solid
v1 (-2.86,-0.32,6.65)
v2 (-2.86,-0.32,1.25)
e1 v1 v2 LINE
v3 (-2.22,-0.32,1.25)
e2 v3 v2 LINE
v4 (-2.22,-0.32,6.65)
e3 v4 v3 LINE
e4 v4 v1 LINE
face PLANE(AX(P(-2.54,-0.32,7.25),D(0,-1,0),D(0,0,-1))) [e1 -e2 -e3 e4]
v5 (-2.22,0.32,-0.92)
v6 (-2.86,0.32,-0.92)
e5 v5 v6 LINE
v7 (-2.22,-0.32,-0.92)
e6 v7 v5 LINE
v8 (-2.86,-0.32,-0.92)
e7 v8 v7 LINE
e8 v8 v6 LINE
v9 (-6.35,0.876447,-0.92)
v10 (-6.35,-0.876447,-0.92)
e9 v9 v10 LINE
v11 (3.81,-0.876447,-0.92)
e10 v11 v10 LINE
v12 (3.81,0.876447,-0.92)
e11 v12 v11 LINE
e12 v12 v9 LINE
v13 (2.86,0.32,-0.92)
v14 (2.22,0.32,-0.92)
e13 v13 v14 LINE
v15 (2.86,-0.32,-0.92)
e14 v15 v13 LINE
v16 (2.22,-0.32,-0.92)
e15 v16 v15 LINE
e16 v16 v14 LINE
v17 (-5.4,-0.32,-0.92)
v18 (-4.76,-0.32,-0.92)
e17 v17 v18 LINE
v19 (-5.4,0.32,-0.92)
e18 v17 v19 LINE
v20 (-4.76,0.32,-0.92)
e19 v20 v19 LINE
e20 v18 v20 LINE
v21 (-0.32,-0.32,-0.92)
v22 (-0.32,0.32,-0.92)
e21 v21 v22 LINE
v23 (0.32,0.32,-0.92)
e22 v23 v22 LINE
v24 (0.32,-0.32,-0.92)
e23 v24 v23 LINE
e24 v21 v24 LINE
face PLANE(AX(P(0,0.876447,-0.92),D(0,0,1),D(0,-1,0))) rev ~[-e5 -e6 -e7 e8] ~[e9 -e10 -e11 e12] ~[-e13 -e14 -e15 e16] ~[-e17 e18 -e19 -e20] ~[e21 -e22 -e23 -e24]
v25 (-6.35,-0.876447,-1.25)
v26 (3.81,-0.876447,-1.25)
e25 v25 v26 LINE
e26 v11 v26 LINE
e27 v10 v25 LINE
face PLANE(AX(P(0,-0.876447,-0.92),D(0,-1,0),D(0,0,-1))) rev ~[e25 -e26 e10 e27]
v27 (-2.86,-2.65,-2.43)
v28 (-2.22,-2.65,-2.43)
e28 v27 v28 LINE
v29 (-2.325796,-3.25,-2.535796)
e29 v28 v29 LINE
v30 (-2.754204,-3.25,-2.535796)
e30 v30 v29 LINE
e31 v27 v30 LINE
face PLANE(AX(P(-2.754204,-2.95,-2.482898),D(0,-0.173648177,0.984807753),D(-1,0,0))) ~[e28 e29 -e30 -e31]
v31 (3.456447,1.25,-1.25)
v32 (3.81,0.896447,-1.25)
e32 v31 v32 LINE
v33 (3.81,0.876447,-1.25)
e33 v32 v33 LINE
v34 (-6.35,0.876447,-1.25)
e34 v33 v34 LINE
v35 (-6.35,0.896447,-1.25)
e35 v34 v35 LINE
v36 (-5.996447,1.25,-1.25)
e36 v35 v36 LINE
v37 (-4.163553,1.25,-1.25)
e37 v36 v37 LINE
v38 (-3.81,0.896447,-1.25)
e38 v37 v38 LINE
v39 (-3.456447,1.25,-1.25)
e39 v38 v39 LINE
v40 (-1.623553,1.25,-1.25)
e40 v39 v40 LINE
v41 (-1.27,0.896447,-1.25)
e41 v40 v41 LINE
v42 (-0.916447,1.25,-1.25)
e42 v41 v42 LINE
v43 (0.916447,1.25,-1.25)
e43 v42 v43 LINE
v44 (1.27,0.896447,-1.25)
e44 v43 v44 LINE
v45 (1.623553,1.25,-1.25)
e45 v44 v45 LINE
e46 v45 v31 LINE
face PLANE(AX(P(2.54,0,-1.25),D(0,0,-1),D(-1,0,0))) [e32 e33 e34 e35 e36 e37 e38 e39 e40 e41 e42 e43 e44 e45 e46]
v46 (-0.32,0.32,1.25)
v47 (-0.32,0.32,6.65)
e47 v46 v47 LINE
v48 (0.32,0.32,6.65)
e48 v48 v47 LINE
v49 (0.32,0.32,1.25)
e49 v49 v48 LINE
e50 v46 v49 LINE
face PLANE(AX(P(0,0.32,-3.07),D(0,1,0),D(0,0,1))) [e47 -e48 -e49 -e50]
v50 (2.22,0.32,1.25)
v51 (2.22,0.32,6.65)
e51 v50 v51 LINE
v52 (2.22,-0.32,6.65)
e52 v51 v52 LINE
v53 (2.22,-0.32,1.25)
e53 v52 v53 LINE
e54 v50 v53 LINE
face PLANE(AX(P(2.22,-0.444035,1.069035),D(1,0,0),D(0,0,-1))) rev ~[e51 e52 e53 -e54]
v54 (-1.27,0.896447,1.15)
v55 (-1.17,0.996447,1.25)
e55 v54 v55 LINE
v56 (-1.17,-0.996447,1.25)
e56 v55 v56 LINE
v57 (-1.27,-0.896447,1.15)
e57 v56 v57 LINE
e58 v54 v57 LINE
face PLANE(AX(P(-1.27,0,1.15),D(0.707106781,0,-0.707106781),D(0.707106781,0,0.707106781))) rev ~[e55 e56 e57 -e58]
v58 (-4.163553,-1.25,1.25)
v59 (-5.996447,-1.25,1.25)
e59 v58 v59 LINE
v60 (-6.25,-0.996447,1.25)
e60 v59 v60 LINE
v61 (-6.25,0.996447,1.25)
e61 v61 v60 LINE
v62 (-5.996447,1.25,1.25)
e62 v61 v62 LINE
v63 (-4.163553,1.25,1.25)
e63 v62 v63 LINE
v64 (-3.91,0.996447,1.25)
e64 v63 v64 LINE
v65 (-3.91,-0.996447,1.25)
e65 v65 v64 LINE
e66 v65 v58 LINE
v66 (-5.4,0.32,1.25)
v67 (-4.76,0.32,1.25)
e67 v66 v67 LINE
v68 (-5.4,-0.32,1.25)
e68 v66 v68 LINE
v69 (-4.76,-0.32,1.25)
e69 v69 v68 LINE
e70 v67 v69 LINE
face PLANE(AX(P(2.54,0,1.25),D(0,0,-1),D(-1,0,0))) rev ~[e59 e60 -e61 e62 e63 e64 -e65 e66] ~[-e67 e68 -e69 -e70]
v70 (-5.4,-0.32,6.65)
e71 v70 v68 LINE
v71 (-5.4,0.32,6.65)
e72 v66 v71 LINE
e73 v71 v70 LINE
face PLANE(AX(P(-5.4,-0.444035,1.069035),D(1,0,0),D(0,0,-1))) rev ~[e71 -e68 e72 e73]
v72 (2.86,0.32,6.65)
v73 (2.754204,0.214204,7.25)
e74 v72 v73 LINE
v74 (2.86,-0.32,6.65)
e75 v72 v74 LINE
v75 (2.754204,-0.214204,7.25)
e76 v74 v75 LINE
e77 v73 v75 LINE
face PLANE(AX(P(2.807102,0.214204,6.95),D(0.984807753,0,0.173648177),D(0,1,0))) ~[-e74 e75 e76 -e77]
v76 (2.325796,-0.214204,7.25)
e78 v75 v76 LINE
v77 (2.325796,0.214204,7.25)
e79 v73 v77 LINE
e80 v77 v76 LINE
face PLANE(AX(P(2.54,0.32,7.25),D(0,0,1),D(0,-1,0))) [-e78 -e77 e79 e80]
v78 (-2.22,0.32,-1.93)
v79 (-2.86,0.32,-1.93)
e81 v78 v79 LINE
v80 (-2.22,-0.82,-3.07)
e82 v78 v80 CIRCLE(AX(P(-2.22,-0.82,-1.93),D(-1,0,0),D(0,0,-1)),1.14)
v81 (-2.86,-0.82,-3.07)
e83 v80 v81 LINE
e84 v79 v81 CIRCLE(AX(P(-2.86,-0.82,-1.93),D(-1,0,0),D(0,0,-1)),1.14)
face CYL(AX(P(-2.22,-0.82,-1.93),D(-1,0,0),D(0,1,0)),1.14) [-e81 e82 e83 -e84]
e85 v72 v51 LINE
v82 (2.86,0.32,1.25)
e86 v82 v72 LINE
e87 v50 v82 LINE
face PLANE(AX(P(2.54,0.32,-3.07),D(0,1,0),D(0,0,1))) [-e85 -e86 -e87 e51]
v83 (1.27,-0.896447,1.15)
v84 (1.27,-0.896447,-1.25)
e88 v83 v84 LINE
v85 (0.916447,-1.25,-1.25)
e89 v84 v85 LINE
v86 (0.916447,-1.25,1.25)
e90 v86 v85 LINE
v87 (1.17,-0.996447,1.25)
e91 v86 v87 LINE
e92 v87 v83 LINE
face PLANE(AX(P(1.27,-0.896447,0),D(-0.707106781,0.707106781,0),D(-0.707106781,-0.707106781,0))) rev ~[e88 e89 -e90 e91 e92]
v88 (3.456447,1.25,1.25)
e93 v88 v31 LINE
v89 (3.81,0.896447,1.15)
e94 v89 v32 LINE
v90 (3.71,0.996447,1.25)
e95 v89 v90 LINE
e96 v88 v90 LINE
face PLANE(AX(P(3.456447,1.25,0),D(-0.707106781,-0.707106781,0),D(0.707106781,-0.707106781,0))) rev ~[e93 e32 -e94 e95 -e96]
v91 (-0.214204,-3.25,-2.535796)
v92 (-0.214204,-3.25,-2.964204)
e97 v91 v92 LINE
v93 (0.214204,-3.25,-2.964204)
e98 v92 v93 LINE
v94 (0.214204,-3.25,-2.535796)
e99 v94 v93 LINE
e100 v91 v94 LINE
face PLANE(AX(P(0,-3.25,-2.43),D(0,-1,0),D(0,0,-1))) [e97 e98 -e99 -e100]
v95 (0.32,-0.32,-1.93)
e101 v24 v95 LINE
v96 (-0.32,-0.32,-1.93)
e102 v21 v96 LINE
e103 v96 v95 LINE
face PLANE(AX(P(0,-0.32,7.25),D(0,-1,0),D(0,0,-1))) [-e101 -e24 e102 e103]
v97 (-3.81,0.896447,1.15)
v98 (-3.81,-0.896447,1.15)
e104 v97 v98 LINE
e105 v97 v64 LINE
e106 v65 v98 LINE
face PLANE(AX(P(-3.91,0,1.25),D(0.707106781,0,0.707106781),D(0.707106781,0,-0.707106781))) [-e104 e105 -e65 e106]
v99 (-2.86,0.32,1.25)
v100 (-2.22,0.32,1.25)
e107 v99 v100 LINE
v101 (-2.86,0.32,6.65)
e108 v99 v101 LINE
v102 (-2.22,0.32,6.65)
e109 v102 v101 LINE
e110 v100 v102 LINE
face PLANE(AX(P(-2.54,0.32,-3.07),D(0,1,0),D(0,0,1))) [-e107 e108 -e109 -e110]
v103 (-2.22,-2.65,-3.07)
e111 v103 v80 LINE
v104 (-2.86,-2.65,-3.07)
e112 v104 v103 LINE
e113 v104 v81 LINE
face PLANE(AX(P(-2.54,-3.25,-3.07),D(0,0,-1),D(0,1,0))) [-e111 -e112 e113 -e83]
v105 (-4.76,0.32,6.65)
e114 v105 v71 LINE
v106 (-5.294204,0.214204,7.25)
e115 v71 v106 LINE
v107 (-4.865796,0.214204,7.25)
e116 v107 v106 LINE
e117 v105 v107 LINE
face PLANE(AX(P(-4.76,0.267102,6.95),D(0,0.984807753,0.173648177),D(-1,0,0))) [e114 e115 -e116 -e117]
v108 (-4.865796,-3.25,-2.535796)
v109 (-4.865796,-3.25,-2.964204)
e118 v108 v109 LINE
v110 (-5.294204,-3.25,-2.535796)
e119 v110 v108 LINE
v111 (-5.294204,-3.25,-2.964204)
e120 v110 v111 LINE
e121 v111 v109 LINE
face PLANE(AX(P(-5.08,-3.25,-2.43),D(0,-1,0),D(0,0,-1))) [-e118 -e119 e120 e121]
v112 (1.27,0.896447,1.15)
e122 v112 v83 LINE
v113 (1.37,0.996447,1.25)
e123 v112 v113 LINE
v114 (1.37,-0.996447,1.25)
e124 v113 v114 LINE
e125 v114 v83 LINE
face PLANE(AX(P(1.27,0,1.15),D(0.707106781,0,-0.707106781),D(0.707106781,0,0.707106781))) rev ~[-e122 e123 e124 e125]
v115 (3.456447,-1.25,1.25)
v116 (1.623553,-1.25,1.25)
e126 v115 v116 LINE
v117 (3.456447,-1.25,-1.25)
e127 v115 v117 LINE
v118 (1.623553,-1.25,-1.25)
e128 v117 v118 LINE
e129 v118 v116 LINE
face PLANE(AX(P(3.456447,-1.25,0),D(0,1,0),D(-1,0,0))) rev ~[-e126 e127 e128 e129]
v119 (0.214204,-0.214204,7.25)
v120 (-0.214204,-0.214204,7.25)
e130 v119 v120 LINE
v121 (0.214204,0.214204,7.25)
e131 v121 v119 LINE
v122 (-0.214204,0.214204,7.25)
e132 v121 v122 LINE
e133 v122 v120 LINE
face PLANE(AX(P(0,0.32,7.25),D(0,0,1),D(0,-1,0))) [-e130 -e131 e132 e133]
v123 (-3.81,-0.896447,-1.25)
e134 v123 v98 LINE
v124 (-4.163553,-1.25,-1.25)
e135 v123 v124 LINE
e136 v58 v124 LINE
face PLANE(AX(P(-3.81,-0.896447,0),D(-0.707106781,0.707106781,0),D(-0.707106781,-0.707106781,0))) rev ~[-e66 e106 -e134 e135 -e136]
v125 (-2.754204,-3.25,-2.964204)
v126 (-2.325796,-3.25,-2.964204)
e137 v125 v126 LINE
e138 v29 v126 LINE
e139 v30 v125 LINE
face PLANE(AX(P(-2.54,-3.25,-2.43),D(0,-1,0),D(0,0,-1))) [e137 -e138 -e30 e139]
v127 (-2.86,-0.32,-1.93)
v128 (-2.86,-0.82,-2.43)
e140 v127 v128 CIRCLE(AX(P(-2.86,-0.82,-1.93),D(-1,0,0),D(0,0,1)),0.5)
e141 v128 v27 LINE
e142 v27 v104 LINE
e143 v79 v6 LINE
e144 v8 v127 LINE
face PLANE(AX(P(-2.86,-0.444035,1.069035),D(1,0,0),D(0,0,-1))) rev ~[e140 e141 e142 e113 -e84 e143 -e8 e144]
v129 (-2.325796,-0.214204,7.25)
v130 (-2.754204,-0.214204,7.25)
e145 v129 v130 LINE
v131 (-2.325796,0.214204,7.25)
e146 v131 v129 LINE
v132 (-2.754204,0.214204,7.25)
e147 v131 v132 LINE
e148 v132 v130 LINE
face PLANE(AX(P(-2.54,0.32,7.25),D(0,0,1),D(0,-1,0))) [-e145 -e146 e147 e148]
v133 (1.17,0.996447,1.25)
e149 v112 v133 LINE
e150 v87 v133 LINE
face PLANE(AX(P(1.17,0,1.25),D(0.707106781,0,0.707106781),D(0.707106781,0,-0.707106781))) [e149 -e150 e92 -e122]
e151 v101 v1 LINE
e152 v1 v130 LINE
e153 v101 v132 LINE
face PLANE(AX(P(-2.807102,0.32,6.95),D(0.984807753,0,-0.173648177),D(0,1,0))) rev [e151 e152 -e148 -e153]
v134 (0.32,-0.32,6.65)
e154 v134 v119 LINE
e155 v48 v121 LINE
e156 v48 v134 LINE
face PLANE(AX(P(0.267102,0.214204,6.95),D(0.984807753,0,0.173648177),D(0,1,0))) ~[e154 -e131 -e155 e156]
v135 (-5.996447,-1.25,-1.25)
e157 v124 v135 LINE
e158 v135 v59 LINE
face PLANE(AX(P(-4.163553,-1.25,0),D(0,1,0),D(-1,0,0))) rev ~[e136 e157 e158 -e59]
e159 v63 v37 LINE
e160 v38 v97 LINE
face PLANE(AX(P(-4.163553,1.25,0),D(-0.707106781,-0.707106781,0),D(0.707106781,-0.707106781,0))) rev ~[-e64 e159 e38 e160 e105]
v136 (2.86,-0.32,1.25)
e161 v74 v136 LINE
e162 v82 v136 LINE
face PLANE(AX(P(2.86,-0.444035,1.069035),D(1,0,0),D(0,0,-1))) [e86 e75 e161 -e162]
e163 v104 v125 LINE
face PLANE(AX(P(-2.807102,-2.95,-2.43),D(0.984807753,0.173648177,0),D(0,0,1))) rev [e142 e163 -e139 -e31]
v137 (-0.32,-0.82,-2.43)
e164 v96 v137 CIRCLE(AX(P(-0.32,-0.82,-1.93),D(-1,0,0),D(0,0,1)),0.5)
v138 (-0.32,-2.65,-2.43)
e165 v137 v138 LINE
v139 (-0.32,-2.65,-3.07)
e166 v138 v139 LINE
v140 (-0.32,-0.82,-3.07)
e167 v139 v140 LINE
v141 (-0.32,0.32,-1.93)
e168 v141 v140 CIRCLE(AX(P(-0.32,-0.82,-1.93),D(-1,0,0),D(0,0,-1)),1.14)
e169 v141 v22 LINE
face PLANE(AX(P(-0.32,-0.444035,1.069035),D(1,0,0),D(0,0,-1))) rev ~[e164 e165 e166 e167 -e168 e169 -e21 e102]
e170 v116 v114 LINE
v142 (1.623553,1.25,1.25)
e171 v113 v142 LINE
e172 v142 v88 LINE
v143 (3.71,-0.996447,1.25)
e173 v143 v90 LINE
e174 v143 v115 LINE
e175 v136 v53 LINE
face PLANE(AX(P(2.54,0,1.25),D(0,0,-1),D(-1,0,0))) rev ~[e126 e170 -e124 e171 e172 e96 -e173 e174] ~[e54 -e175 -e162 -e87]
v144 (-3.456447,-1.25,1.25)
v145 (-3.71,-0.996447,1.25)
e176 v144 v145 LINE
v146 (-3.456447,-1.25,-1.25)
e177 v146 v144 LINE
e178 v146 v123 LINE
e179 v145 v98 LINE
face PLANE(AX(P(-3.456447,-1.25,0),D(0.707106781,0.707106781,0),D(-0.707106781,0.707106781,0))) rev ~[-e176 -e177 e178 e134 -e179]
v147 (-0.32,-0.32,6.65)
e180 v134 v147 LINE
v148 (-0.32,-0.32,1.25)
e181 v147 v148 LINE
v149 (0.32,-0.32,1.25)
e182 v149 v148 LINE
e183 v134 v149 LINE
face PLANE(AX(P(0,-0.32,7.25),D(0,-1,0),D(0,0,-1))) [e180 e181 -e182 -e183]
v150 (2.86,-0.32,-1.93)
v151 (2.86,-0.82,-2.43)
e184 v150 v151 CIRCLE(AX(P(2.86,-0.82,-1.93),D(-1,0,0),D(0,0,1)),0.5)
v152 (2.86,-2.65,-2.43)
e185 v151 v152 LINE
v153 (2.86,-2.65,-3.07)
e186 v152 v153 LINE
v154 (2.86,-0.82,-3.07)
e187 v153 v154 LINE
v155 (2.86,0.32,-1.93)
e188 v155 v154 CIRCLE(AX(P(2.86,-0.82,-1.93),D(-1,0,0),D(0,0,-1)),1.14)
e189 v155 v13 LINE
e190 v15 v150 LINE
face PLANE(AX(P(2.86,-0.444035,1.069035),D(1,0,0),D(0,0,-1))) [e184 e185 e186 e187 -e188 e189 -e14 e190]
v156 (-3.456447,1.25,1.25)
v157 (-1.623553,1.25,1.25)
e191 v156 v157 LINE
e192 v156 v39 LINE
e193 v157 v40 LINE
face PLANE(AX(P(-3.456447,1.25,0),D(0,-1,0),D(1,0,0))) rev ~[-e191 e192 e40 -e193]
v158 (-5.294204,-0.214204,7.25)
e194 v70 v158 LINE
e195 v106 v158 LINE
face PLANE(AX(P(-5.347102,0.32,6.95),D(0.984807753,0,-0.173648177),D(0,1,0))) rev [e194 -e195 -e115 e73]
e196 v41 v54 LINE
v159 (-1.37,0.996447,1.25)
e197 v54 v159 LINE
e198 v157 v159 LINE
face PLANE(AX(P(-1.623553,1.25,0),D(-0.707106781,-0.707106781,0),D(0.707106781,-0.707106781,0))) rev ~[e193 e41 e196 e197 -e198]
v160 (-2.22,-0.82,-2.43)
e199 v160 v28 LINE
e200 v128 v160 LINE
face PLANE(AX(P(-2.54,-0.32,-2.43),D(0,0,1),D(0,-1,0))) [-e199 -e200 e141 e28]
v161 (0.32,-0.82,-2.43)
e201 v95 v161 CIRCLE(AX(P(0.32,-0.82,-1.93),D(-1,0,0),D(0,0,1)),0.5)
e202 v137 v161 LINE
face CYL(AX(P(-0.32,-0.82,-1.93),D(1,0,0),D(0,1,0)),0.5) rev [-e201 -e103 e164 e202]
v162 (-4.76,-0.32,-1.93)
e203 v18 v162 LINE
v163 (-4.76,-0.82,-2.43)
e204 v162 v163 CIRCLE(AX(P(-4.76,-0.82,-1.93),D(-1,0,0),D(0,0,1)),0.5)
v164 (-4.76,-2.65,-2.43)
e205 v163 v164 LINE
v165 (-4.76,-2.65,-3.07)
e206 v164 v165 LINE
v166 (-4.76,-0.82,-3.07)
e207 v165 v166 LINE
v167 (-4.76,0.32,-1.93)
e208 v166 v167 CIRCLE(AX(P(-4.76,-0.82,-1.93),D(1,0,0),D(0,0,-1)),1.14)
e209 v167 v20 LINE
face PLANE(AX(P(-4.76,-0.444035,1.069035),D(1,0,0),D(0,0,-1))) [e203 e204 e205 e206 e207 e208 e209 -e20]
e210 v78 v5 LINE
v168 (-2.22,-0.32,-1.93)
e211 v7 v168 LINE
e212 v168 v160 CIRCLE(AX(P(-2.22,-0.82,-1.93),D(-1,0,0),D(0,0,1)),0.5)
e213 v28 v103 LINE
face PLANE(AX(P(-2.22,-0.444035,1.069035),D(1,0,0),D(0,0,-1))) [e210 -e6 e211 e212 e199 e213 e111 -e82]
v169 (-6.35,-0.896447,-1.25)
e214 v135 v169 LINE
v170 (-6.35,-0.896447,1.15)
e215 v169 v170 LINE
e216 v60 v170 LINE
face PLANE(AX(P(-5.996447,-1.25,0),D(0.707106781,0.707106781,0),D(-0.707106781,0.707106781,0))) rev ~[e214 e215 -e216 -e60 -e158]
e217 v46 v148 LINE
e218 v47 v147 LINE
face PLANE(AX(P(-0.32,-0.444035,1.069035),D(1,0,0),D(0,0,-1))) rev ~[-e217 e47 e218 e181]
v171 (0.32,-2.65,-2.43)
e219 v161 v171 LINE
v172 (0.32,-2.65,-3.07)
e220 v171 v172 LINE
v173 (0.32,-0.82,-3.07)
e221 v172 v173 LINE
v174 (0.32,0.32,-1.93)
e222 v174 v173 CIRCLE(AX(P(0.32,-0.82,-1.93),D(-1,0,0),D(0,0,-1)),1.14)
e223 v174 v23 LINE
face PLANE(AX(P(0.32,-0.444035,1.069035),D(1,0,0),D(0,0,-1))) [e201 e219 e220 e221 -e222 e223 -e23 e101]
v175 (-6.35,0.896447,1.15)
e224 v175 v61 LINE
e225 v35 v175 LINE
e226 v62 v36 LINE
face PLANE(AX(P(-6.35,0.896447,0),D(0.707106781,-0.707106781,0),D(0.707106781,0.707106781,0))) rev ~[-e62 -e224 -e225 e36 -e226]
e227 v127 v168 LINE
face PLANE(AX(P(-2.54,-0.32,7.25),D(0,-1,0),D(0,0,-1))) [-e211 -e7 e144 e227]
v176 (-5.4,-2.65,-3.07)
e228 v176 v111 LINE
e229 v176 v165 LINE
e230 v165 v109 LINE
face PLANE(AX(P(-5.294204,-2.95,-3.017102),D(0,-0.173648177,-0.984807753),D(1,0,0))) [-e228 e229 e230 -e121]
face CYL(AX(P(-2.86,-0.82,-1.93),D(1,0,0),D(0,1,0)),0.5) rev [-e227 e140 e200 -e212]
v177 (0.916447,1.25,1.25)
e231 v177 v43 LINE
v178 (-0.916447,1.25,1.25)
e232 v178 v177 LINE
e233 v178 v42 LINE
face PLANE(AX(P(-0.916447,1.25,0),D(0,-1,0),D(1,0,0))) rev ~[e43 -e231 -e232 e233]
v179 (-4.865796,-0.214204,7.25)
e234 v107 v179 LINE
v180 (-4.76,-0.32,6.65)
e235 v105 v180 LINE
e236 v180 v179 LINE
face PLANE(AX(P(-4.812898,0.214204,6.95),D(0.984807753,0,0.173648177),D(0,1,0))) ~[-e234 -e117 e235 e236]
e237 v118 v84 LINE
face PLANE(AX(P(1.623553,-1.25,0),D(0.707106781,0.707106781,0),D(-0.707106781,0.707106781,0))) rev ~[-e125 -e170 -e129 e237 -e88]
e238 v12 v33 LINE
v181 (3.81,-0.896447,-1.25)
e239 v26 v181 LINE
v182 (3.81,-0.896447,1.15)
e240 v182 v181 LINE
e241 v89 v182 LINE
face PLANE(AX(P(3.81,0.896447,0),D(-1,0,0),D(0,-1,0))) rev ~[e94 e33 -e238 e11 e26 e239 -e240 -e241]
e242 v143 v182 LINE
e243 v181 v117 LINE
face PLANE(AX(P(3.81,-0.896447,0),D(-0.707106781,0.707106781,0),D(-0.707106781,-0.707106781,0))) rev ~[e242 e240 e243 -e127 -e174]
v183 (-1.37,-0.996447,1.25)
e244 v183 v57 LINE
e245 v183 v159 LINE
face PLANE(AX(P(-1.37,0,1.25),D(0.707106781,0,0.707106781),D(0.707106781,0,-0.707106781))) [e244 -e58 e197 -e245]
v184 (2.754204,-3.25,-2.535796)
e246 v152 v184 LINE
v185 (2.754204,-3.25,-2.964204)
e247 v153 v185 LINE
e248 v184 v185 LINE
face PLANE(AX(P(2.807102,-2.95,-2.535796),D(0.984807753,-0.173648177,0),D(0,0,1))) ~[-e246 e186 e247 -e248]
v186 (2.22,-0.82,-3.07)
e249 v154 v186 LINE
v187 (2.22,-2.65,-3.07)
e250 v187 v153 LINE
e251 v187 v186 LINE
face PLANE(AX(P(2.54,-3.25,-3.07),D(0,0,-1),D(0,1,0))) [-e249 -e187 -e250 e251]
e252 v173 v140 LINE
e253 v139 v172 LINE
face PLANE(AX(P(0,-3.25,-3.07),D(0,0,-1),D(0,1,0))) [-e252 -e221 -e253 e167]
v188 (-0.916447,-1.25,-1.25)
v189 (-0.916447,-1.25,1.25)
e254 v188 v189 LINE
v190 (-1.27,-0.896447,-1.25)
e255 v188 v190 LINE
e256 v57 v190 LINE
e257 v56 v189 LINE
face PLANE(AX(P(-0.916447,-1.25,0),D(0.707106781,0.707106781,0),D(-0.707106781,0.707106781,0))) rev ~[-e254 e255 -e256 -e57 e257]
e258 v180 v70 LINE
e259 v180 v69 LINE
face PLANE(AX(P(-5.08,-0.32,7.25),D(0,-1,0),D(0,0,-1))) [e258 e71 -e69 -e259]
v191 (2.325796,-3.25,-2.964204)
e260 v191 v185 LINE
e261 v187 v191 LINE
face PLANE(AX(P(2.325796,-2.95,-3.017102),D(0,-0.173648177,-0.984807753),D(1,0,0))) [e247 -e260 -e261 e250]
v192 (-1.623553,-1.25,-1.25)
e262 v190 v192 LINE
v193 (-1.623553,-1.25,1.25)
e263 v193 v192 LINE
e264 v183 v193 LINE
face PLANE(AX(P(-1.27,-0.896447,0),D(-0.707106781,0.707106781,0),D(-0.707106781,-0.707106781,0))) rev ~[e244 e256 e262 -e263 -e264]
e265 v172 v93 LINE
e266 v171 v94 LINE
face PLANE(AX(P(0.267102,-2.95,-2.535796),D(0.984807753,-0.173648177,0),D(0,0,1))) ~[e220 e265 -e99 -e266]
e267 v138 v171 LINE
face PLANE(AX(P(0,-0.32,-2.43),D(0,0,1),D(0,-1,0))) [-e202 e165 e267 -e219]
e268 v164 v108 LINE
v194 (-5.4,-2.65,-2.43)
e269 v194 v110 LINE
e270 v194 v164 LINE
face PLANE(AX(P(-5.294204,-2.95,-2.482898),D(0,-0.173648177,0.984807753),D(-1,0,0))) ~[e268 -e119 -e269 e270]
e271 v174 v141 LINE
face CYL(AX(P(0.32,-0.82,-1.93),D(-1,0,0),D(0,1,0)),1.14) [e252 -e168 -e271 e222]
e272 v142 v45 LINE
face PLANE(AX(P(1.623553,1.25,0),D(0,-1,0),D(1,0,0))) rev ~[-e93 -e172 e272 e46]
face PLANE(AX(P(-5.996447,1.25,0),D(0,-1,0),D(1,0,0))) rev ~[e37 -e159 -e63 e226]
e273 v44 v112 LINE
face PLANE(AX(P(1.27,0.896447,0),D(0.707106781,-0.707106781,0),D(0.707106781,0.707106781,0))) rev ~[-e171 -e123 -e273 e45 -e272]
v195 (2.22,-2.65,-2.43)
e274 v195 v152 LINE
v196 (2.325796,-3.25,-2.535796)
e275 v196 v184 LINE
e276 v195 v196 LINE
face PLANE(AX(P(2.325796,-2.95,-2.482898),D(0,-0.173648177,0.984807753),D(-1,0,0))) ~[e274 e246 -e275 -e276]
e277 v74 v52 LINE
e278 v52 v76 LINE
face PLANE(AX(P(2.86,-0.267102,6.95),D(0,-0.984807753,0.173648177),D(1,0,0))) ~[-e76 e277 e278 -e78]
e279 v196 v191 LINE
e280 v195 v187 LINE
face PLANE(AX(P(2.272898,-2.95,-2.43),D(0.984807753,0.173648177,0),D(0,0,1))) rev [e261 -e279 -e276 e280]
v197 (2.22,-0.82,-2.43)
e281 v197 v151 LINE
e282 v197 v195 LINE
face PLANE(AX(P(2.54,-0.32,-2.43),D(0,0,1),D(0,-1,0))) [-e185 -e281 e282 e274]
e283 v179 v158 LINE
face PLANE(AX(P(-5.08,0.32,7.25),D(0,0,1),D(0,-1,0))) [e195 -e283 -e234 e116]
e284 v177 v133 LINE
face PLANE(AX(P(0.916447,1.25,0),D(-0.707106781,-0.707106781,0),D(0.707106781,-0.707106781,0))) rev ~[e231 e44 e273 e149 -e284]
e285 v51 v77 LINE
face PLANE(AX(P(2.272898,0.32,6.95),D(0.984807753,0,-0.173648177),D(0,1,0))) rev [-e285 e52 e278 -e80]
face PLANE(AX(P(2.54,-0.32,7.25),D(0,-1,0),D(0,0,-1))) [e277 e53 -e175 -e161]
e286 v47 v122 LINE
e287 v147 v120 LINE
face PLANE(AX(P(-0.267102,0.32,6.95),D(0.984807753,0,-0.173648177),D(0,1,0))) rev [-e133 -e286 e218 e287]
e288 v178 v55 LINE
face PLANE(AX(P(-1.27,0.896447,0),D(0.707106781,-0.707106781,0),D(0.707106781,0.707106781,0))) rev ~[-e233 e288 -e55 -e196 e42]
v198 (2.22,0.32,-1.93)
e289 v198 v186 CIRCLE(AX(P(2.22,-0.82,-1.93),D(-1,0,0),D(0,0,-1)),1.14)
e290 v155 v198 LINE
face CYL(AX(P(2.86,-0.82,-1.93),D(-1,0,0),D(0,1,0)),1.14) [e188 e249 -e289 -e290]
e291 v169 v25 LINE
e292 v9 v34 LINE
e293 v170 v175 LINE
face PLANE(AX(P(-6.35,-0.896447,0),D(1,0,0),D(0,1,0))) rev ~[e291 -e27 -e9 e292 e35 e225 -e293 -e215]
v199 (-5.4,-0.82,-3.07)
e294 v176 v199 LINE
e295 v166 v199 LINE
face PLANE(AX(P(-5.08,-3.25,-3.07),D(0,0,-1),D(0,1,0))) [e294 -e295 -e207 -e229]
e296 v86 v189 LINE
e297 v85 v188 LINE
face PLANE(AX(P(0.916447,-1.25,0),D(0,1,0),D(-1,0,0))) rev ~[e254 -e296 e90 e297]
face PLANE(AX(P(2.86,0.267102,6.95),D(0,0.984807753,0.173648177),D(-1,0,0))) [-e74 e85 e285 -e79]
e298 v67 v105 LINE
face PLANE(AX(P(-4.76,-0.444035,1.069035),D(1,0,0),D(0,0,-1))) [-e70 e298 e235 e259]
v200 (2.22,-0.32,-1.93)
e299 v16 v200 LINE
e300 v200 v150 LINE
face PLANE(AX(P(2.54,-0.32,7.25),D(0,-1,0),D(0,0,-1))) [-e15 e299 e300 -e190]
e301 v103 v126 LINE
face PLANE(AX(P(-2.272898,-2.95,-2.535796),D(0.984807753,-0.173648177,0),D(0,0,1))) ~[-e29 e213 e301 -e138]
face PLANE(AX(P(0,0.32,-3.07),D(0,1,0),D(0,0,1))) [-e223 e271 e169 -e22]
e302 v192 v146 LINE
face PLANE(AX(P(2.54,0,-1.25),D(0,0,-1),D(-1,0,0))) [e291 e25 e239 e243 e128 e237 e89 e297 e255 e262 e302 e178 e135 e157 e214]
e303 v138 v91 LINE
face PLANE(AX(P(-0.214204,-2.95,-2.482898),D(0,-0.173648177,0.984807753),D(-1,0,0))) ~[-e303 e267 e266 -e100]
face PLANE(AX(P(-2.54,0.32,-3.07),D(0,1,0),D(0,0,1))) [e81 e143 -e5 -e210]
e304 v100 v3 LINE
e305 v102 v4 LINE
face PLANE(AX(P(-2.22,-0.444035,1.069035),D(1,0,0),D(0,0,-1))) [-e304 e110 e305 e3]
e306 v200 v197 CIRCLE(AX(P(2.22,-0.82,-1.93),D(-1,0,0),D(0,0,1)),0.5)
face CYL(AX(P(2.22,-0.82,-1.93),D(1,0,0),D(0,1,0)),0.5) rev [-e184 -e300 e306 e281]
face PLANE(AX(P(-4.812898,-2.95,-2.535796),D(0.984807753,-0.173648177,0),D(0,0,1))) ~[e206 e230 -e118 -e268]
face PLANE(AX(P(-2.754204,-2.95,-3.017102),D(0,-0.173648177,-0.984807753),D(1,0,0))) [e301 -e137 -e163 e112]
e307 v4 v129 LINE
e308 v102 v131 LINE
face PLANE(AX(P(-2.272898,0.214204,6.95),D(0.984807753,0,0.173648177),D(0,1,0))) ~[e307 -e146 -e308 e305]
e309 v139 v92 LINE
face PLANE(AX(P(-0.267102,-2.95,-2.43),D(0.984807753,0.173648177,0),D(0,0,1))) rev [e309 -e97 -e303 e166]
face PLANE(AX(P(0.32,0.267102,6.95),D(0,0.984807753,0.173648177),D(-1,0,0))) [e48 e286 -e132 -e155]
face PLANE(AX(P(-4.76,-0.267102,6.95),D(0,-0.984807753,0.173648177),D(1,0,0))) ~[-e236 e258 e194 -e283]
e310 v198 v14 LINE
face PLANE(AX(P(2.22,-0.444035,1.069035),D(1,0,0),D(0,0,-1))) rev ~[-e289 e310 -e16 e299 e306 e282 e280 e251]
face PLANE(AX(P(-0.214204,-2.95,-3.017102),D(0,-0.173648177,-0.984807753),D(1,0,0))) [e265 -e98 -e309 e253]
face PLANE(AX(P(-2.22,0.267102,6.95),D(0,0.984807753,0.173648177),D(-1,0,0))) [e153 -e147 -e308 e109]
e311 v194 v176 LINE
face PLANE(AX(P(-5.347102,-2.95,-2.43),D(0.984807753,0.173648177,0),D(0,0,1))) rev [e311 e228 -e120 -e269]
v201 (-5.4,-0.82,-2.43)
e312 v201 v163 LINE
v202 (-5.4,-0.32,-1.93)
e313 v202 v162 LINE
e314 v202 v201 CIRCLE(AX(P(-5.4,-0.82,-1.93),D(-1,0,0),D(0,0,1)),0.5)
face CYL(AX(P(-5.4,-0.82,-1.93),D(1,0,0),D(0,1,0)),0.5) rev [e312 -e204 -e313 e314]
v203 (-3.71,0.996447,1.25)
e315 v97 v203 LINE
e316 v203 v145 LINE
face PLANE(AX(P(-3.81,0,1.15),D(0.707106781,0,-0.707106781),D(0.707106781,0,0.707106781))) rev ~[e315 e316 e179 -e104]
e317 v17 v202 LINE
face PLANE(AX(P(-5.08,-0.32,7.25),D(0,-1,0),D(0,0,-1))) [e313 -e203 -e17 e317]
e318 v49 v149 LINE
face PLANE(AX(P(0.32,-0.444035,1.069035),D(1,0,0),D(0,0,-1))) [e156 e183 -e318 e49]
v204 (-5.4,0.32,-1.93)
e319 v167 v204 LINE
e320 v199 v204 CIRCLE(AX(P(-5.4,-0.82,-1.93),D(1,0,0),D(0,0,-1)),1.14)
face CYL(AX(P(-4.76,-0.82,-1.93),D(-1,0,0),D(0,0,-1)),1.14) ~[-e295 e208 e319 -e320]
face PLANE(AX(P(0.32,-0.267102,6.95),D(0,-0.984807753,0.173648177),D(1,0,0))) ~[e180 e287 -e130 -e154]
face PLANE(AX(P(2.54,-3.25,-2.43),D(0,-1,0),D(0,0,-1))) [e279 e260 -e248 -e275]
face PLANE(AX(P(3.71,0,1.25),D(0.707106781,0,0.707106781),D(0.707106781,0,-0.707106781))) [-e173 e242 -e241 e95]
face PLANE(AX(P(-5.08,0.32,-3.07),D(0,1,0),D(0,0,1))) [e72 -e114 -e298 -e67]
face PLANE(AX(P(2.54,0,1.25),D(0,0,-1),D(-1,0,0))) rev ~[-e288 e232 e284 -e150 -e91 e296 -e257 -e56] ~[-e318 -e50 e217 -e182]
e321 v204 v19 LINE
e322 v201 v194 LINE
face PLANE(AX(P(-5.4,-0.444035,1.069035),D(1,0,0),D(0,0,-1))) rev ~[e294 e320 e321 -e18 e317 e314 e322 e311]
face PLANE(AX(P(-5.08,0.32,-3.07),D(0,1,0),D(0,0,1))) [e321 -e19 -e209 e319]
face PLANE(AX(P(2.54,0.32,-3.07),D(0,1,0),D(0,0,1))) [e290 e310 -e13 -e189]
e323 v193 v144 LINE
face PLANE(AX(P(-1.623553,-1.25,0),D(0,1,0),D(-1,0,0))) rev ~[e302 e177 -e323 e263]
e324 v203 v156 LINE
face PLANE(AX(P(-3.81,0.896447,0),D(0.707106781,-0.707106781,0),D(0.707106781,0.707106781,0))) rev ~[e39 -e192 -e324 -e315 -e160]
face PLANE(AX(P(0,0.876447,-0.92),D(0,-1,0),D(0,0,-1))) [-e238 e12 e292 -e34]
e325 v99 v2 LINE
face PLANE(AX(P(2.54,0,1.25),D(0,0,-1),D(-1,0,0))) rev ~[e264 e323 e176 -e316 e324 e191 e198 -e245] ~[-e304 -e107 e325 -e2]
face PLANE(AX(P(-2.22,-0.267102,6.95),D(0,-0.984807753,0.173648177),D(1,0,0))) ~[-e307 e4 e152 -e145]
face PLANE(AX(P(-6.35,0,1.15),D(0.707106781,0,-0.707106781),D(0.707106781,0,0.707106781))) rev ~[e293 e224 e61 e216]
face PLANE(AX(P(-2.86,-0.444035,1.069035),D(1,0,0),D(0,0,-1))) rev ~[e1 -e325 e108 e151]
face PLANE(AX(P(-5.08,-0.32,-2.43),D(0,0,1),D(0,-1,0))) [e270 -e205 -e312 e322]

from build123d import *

# Parameters (mm, degrees)
EXTRUDE1_DEPTH          = 1.25
CUT_EXTRUDE3_DEPTH      = 2.25
LPATTERN4_COUNT         = 3
LPATTERN4_PITCH         = 2.54
LPATTERN4_COUNT_DIR2    = 2
LPATTERN4_PITCH_DIR2    = 2.54
SKETCH2_W               = 1.752893218
SKETCH2_H               = 0.33
CUT_EXTRUDE1_DEPTH      = 4.81
CUT_EXTRUDE1_DEPTH_BACK = 7.35
EXTRUDE_THIN1_DEPTH     = 0.32
LPATTERN5_COUNT         = 2
LPATTERN5_PITCH         = 2.54
LPATTERN5_COL_COUNT     = 3
LPATTERN5_COL_PITCH     = 2.54
CHAMFER2_SIZE           = 0.6
CHAMFER2_SIZE2          = 0.105796188
CHAMFER2_PART_2_SIZE    = 0.6
CHAMFER2_PART_2_SIZE2   = 0.105796188
CHAMFER2_PART_3_SIZE    = 0.6
CHAMFER2_PART_3_SIZE2   = 0.105796188
CHAMFER2_PART_4_SIZE    = 0.6
CHAMFER2_PART_4_SIZE2   = 0.105796188
CHAMFER2_PART_5_SIZE    = 0.6
CHAMFER2_PART_5_SIZE2   = 0.105796188
CHAMFER2_PART_6_SIZE    = 0.6
CHAMFER2_PART_6_SIZE2   = 0.105796188
CHAMFER2_PART_7_SIZE    = 0.6
CHAMFER2_PART_7_SIZE2   = 0.105796188
CHAMFER2_PART_8_SIZE    = 0.6
CHAMFER2_PART_8_SIZE2   = 0.105796188
CHAMFER2_PART_9_SIZE    = 0.6
CHAMFER2_PART_9_SIZE2   = 0.105796188
CHAMFER2_PART_10_SIZE   = 0.6
CHAMFER2_PART_10_SIZE2  = 0.105796188
CHAMFER2_PART_11_SIZE   = 0.6
CHAMFER2_PART_11_SIZE2  = 0.105796188
CHAMFER2_PART_12_SIZE   = 0.6
CHAMFER2_PART_12_SIZE2  = 0.105796188
CHAMFER2_PART_13_SIZE   = 0.6
CHAMFER2_PART_13_SIZE2  = 0.105796188
CHAMFER2_PART_14_SIZE   = 0.6
CHAMFER2_PART_14_SIZE2  = 0.105796188
CHAMFER2_PART_15_SIZE   = 0.6
CHAMFER2_PART_15_SIZE2  = 0.105796188
CHAMFER2_PART_16_SIZE   = 0.6
CHAMFER2_PART_16_SIZE2  = 0.105796188
CHAMFER2_PART_17_SIZE   = 0.6
CHAMFER2_PART_17_SIZE2  = 0.105796188
CHAMFER2_PART_18_SIZE   = 0.6
CHAMFER2_PART_18_SIZE2  = 0.105796188
CHAMFER2_PART_19_SIZE   = 0.6
CHAMFER2_PART_19_SIZE2  = 0.105796188
CHAMFER2_PART_20_SIZE   = 0.6
CHAMFER2_PART_20_SIZE2  = 0.105796188
CHAMFER2_PART_21_SIZE   = 0.6
CHAMFER2_PART_21_SIZE2  = 0.105796188
CHAMFER2_PART_22_SIZE   = 0.6
CHAMFER2_PART_22_SIZE2  = 0.105796188
CHAMFER2_PART_23_SIZE   = 0.6
CHAMFER2_PART_23_SIZE2  = 0.105796188
CHAMFER2_PART_24_SIZE   = 0.6
CHAMFER2_PART_24_SIZE2  = 0.105796188
CHAMFER2_PART_25_SIZE   = 0.6
CHAMFER2_PART_25_SIZE2  = 0.105796188
CHAMFER2_PART_26_SIZE   = 0.6
CHAMFER2_PART_26_SIZE2  = 0.105796188
CHAMFER2_PART_27_SIZE   = 0.6
CHAMFER2_PART_27_SIZE2  = 0.105796188
CHAMFER2_PART_28_SIZE   = 0.6
CHAMFER2_PART_28_SIZE2  = 0.105796188
CHAMFER2_PART_29_SIZE   = 0.6
CHAMFER2_PART_29_SIZE2  = 0.105796188
CHAMFER2_PART_30_SIZE   = 0.6
CHAMFER2_PART_30_SIZE2  = 0.105796188
CHAMFER2_PART_31_SIZE   = 0.6
CHAMFER2_PART_31_SIZE2  = 0.105796188
CHAMFER2_PART_32_SIZE   = 0.6
CHAMFER2_PART_32_SIZE2  = 0.105796188
FILLET1_R               = 0.5
FILLET2_R               = 1.14


with BuildPart() as part:
    # Sketch1 → Extrude1 (new body, symmetric)
    with BuildSketch(Plane.XY):
        Polygon((-1.27, 0.896446609), (-0.916446609, 1.25), (0.916446609, 1.25), (1.27, 0.896446609), (1.27, -0.896446609), (0.916446609, -1.25), (-0.916446609, -1.25), (-1.27, -0.896446609), align=None)
    extrude1 = extrude(amount=EXTRUDE1_DEPTH, both=True)

    # Sketch4 → Cut-Extrude3 (cut, symmetric)
    with BuildSketch(Plane(origin=(0, 0, 0), x_dir=(1, 0, 0), z_dir=(0, 1, 0))):
        Polygon((-1.27, -1.15), (-1.17, -1.25), (-1.27, -1.25), align=None)
        Polygon((1.17, -1.25), (1.27, -1.15), (1.27, -1.25), align=None)
    cut_extrude3 = extrude(amount=CUT_EXTRUDE3_DEPTH, both=True, mode=Mode.SUBTRACT)

    # LPattern4: Extrude1, Cut-Extrude3 3 × 2
    with Locations(*[Vector(-1, 0, 0) * (i * LPATTERN4_PITCH) + Vector(1, 0, 0) * (j * LPATTERN4_PITCH_DIR2) for i in range(LPATTERN4_COUNT) for j in range(LPATTERN4_COUNT_DIR2) if (i, j) != (0, 0)]):
        add(extrude1)
        add(cut_extrude3, mode=Mode.SUBTRACT)

    # Sketch2 → Cut-Extrude1 (cut, two sides)
    with BuildSketch(Plane(origin=(0, 0, 0), x_dir=(0, -1, 0), z_dir=(1, 0, 0))) as cut_extrude1_sk:
        with Locations((0, 1.085)):
            Rectangle(SKETCH2_W, SKETCH2_H)
    extrude(amount=CUT_EXTRUDE1_DEPTH, mode=Mode.SUBTRACT)
    extrude(cut_extrude1_sk.sketch, amount=-CUT_EXTRUDE1_DEPTH_BACK, mode=Mode.SUBTRACT)

    # Sketch3 → Extrude-Thin1 (add, symmetric)
    with BuildSketch(Plane(origin=(0, 0, 0), x_dir=(0, 0, -1), z_dir=(1, 0, 0))):
        Polygon((-7.25, -0.32), (2.43, -0.32), (2.43, -3.25), (3.07, -3.25), (3.07, 0.32), (-7.25, 0.32), align=None)
    extrude_thin1 = extrude(amount=EXTRUDE_THIN1_DEPTH, both=True)

    # LPattern5: Extrude-Thin1 ×2
    with Locations(*[(i * LPATTERN5_PITCH, 0, 0) for i in range(1, LPATTERN5_COUNT)]):
        add(extrude_thin1)

    # LPattern5 col: Extrude-Thin1 ×3
    with Locations(*[(-i * LPATTERN5_COL_PITCH, 0, 0) for i in range(1, LPATTERN5_COL_COUNT)]):
        add(extrude_thin1)

    # Chamfer2
    chamfer2_edges = [part.edges().sort_by_distance(p)[0] for p in [
        (0, -0.32, 7.25),
    ]]
    chamfer2_side = [part.faces().sort_by_distance(p)[0] for p in [
        (0, -0.32, 4.25),
    ]]
    chamfer(chamfer2_edges, length=CHAMFER2_SIZE, length2=CHAMFER2_SIZE2, reference=chamfer2_side[0])

    # Chamfer2 part 2
    chamfer2_part_2_edges = [part.edges().sort_by_distance(p)[0] for p in [
        (-0.32, 0, 7.25),
    ]]
    chamfer2_part_2_side = [part.faces().sort_by_distance(p)[0] for p in [
        (-0.32, 0, 4.25),
    ]]
    chamfer(chamfer2_part_2_edges, length=CHAMFER2_PART_2_SIZE, length2=CHAMFER2_PART_2_SIZE2, reference=chamfer2_part_2_side[0])

    # Chamfer2 part 3
    chamfer2_part_3_edges = [part.edges().sort_by_distance(p)[0] for p in [
        (-0.32, -3.25, -2.75),
    ]]
    chamfer2_part_3_side = [part.faces().sort_by_distance(p)[0] for p in [
        (-0.32, -1.029537402, -2.430462598),
    ]]
    chamfer(chamfer2_part_3_edges, length=CHAMFER2_PART_3_SIZE, length2=CHAMFER2_PART_3_SIZE2, reference=chamfer2_part_3_side[0])

    # Chamfer2 part 4
    chamfer2_part_4_edges = [part.edges().sort_by_distance(p)[0] for p in [
        (0, -3.25, -2.43),
    ]]
    chamfer2_part_4_side = [part.faces().sort_by_distance(p)[0] for p in [
        (0, -1.785, -2.43),
    ]]
    chamfer(chamfer2_part_4_edges, length=CHAMFER2_PART_4_SIZE, length2=CHAMFER2_PART_4_SIZE2, reference=chamfer2_part_4_side[0])

    # Chamfer2 part 5
    chamfer2_part_5_edges = [part.edges().sort_by_distance(p)[0] for p in [
        (0.32, -3.25, -2.75),
    ]]
    chamfer2_part_5_side = [part.faces().sort_by_distance(p)[0] for p in [
        (0.32, -1.029537402, -2.430462598),
    ]]
    chamfer(chamfer2_part_5_edges, length=CHAMFER2_PART_5_SIZE, length2=CHAMFER2_PART_5_SIZE2, reference=chamfer2_part_5_side[0])

    # Chamfer2 part 6
    chamfer2_part_6_edges = [part.edges().sort_by_distance(p)[0] for p in [
        (0, -3.25, -3.07),
    ]]
    chamfer2_part_6_side = [part.faces().sort_by_distance(p)[0] for p in [
        (0, -1.465, -3.07),
    ]]
    chamfer(chamfer2_part_6_edges, length=CHAMFER2_PART_6_SIZE, length2=CHAMFER2_PART_6_SIZE2, reference=chamfer2_part_6_side[0])

    # Chamfer2 part 7
    chamfer2_part_7_edges = [part.edges().sort_by_distance(p)[0] for p in [
        (0, 0.32, 7.25),
    ]]
    chamfer2_part_7_side = [part.faces().sort_by_distance(p)[0] for p in [
        (0, 0.32, 4.25),
    ]]
    chamfer(chamfer2_part_7_edges, length=CHAMFER2_PART_7_SIZE, length2=CHAMFER2_PART_7_SIZE2, reference=chamfer2_part_7_side[0])

    # Chamfer2 part 8
    chamfer2_part_8_edges = [part.edges().sort_by_distance(p)[0] for p in [
        (0.32, 0, 7.25),
    ]]
    chamfer2_part_8_side = [part.faces().sort_by_distance(p)[0] for p in [
        (0.32, 0, 4.25),
    ]]
    chamfer(chamfer2_part_8_edges, length=CHAMFER2_PART_8_SIZE, length2=CHAMFER2_PART_8_SIZE2, reference=chamfer2_part_8_side[0])

    # Chamfer2 part 9
    chamfer2_part_9_edges = [part.edges().sort_by_distance(p)[0] for p in [
        (-2.54, -0.32, 7.25),
    ]]
    chamfer2_part_9_side = [part.faces().sort_by_distance(p)[0] for p in [
        (-2.54, -0.32, 4.25),
    ]]
    chamfer(chamfer2_part_9_edges, length=CHAMFER2_PART_9_SIZE, length2=CHAMFER2_PART_9_SIZE2, reference=chamfer2_part_9_side[0])

    # Chamfer2 part 10
    chamfer2_part_10_edges = [part.edges().sort_by_distance(p)[0] for p in [
        (-2.86, 0, 7.25),
    ]]
    chamfer2_part_10_side = [part.faces().sort_by_distance(p)[0] for p in [
        (-2.86, 0, 4.25),
    ]]
    chamfer(chamfer2_part_10_edges, length=CHAMFER2_PART_10_SIZE, length2=CHAMFER2_PART_10_SIZE2, reference=chamfer2_part_10_side[0])

    # Chamfer2 part 11
    chamfer2_part_11_edges = [part.edges().sort_by_distance(p)[0] for p in [
        (-2.86, -3.25, -2.75),
    ]]
    chamfer2_part_11_side = [part.faces().sort_by_distance(p)[0] for p in [
        (-2.86, -1.029537402, -2.430462598),
    ]]
    chamfer(chamfer2_part_11_edges, length=CHAMFER2_PART_11_SIZE, length2=CHAMFER2_PART_11_SIZE2, reference=chamfer2_part_11_side[0])

    # Chamfer2 part 12
    chamfer2_part_12_edges = [part.edges().sort_by_distance(p)[0] for p in [
        (-2.54, -3.25, -2.43),
    ]]
    chamfer2_part_12_side = [part.faces().sort_by_distance(p)[0] for p in [
        (-2.54, -1.785, -2.43),
    ]]
    chamfer(chamfer2_part_12_edges, length=CHAMFER2_PART_12_SIZE, length2=CHAMFER2_PART_12_SIZE2, reference=chamfer2_part_12_side[0])

    # Chamfer2 part 13
    chamfer2_part_13_edges = [part.edges().sort_by_distance(p)[0] for p in [
        (-2.22, -3.25, -2.75),
    ]]
    chamfer2_part_13_side = [part.faces().sort_by_distance(p)[0] for p in [
        (-2.22, -1.029537402, -2.430462598),
    ]]
    chamfer(chamfer2_part_13_edges, length=CHAMFER2_PART_13_SIZE, length2=CHAMFER2_PART_13_SIZE2, reference=chamfer2_part_13_side[0])

    # Chamfer2 part 14
    chamfer2_part_14_edges = [part.edges().sort_by_distance(p)[0] for p in [
        (-2.54, -3.25, -3.07),
    ]]
    chamfer2_part_14_side = [part.faces().sort_by_distance(p)[0] for p in [
        (-2.54, -1.465, -3.07),
    ]]
    chamfer(chamfer2_part_14_edges, length=CHAMFER2_PART_14_SIZE, length2=CHAMFER2_PART_14_SIZE2, reference=chamfer2_part_14_side[0])

    # Chamfer2 part 15
    chamfer2_part_15_edges = [part.edges().sort_by_distance(p)[0] for p in [
        (-2.54, 0.32, 7.25),
    ]]
    chamfer2_part_15_side = [part.faces().sort_by_distance(p)[0] for p in [
        (-2.54, 0.32, 4.25),
    ]]
    chamfer(chamfer2_part_15_edges, length=CHAMFER2_PART_15_SIZE, length2=CHAMFER2_PART_15_SIZE2, reference=chamfer2_part_15_side[0])

    # Chamfer2 part 16
    chamfer2_part_16_edges = [part.edges().sort_by_distance(p)[0] for p in [
        (-2.22, 0, 7.25),
    ]]
    chamfer2_part_16_side = [part.faces().sort_by_distance(p)[0] for p in [
        (-2.22, 0, 4.25),
    ]]
    chamfer(chamfer2_part_16_edges, length=CHAMFER2_PART_16_SIZE, length2=CHAMFER2_PART_16_SIZE2, reference=chamfer2_part_16_side[0])

    # Chamfer2 part 17
    chamfer2_part_17_edges = [part.edges().sort_by_distance(p)[0] for p in [
        (-5.08, -0.32, 7.25),
    ]]
    chamfer2_part_17_side = [part.faces().sort_by_distance(p)[0] for p in [
        (-5.08, -0.32, 4.25),
    ]]
    chamfer(chamfer2_part_17_edges, length=CHAMFER2_PART_17_SIZE, length2=CHAMFER2_PART_17_SIZE2, reference=chamfer2_part_17_side[0])

    # Chamfer2 part 18
    chamfer2_part_18_edges = [part.edges().sort_by_distance(p)[0] for p in [
        (-5.4, 0, 7.25),
    ]]
    chamfer2_part_18_side = [part.faces().sort_by_distance(p)[0] for p in [
        (-5.4, 0, 4.25),
    ]]
    chamfer(chamfer2_part_18_edges, length=CHAMFER2_PART_18_SIZE, length2=CHAMFER2_PART_18_SIZE2, reference=chamfer2_part_18_side[0])

    # Chamfer2 part 19
    chamfer2_part_19_edges = [part.edges().sort_by_distance(p)[0] for p in [
        (-5.4, -3.25, -2.75),
    ]]
    chamfer2_part_19_side = [part.faces().sort_by_distance(p)[0] for p in [
        (-5.4, -1.029537402, -2.430462598),
    ]]
    chamfer(chamfer2_part_19_edges, length=CHAMFER2_PART_19_SIZE, length2=CHAMFER2_PART_19_SIZE2, reference=chamfer2_part_19_side[0])

    # Chamfer2 part 20
    chamfer2_part_20_edges = [part.edges().sort_by_distance(p)[0] for p in [
        (-5.08, -3.25, -2.43),
    ]]
    chamfer2_part_20_side = [part.faces().sort_by_distance(p)[0] for p in [
        (-5.08, -1.785, -2.43),
    ]]
    chamfer(chamfer2_part_20_edges, length=CHAMFER2_PART_20_SIZE, length2=CHAMFER2_PART_20_SIZE2, reference=chamfer2_part_20_side[0])

    # Chamfer2 part 21
    chamfer2_part_21_edges = [part.edges().sort_by_distance(p)[0] for p in [
        (-4.76, -3.25, -2.75),
    ]]
    chamfer2_part_21_side = [part.faces().sort_by_distance(p)[0] for p in [
        (-4.76, -1.029537402, -2.430462598),
    ]]
    chamfer(chamfer2_part_21_edges, length=CHAMFER2_PART_21_SIZE, length2=CHAMFER2_PART_21_SIZE2, reference=chamfer2_part_21_side[0])

    # Chamfer2 part 22
    chamfer2_part_22_edges = [part.edges().sort_by_distance(p)[0] for p in [
        (-5.08, -3.25, -3.07),
    ]]
    chamfer2_part_22_side = [part.faces().sort_by_distance(p)[0] for p in [
        (-5.08, -1.465, -3.07),
    ]]
    chamfer(chamfer2_part_22_edges, length=CHAMFER2_PART_22_SIZE, length2=CHAMFER2_PART_22_SIZE2, reference=chamfer2_part_22_side[0])

    # Chamfer2 part 23
    chamfer2_part_23_edges = [part.edges().sort_by_distance(p)[0] for p in [
        (-5.08, 0.32, 7.25),
    ]]
    chamfer2_part_23_side = [part.faces().sort_by_distance(p)[0] for p in [
        (-5.08, 0.32, 4.25),
    ]]
    chamfer(chamfer2_part_23_edges, length=CHAMFER2_PART_23_SIZE, length2=CHAMFER2_PART_23_SIZE2, reference=chamfer2_part_23_side[0])

    # Chamfer2 part 24
    chamfer2_part_24_edges = [part.edges().sort_by_distance(p)[0] for p in [
        (-4.76, 0, 7.25),
    ]]
    chamfer2_part_24_side = [part.faces().sort_by_distance(p)[0] for p in [
        (-4.76, 0, 4.25),
    ]]
    chamfer(chamfer2_part_24_edges, length=CHAMFER2_PART_24_SIZE, length2=CHAMFER2_PART_24_SIZE2, reference=chamfer2_part_24_side[0])

    # Chamfer2 part 25
    chamfer2_part_25_edges = [part.edges().sort_by_distance(p)[0] for p in [
        (2.54, -0.32, 7.25),
    ]]
    chamfer2_part_25_side = [part.faces().sort_by_distance(p)[0] for p in [
        (2.54, -0.32, 4.25),
    ]]
    chamfer(chamfer2_part_25_edges, length=CHAMFER2_PART_25_SIZE, length2=CHAMFER2_PART_25_SIZE2, reference=chamfer2_part_25_side[0])

    # Chamfer2 part 26
    chamfer2_part_26_edges = [part.edges().sort_by_distance(p)[0] for p in [
        (2.22, 0, 7.25),
    ]]
    chamfer2_part_26_side = [part.faces().sort_by_distance(p)[0] for p in [
        (2.22, 0, 4.25),
    ]]
    chamfer(chamfer2_part_26_edges, length=CHAMFER2_PART_26_SIZE, length2=CHAMFER2_PART_26_SIZE2, reference=chamfer2_part_26_side[0])

    # Chamfer2 part 27
    chamfer2_part_27_edges = [part.edges().sort_by_distance(p)[0] for p in [
        (2.22, -3.25, -2.75),
    ]]
    chamfer2_part_27_side = [part.faces().sort_by_distance(p)[0] for p in [
        (2.22, -1.029537402, -2.430462598),
    ]]
    chamfer(chamfer2_part_27_edges, length=CHAMFER2_PART_27_SIZE, length2=CHAMFER2_PART_27_SIZE2, reference=chamfer2_part_27_side[0])

    # Chamfer2 part 28
    chamfer2_part_28_edges = [part.edges().sort_by_distance(p)[0] for p in [
        (2.54, -3.25, -2.43),
    ]]
    chamfer2_part_28_side = [part.faces().sort_by_distance(p)[0] for p in [
        (2.54, -1.785, -2.43),
    ]]
    chamfer(chamfer2_part_28_edges, length=CHAMFER2_PART_28_SIZE, length2=CHAMFER2_PART_28_SIZE2, reference=chamfer2_part_28_side[0])

    # Chamfer2 part 29
    chamfer2_part_29_edges = [part.edges().sort_by_distance(p)[0] for p in [
        (2.86, -3.25, -2.75),
    ]]
    chamfer2_part_29_side = [part.faces().sort_by_distance(p)[0] for p in [
        (2.86, -1.029537402, -2.430462598),
    ]]
    chamfer(chamfer2_part_29_edges, length=CHAMFER2_PART_29_SIZE, length2=CHAMFER2_PART_29_SIZE2, reference=chamfer2_part_29_side[0])

    # Chamfer2 part 30
    chamfer2_part_30_edges = [part.edges().sort_by_distance(p)[0] for p in [
        (2.54, -3.25, -3.07),
    ]]
    chamfer2_part_30_side = [part.faces().sort_by_distance(p)[0] for p in [
        (2.54, -1.465, -3.07),
    ]]
    chamfer(chamfer2_part_30_edges, length=CHAMFER2_PART_30_SIZE, length2=CHAMFER2_PART_30_SIZE2, reference=chamfer2_part_30_side[0])

    # Chamfer2 part 31
    chamfer2_part_31_edges = [part.edges().sort_by_distance(p)[0] for p in [
        (2.54, 0.32, 7.25),
    ]]
    chamfer2_part_31_side = [part.faces().sort_by_distance(p)[0] for p in [
        (2.54, 0.32, 4.25),
    ]]
    chamfer(chamfer2_part_31_edges, length=CHAMFER2_PART_31_SIZE, length2=CHAMFER2_PART_31_SIZE2, reference=chamfer2_part_31_side[0])

    # Chamfer2 part 32
    chamfer2_part_32_edges = [part.edges().sort_by_distance(p)[0] for p in [
        (2.86, 0, 7.25),
    ]]
    chamfer2_part_32_side = [part.faces().sort_by_distance(p)[0] for p in [
        (2.86, 0, 4.25),
    ]]
    chamfer(chamfer2_part_32_edges, length=CHAMFER2_PART_32_SIZE, length2=CHAMFER2_PART_32_SIZE2, reference=chamfer2_part_32_side[0])

    # Fillet1
    fillet1_edges = [part.edges().sort_by_distance(p)[0] for p in [
        (0, -0.32, -2.43),
        (-2.54, -0.32, -2.43),
        (-5.08, -0.32, -2.43),
        (2.54, -0.32, -2.43),
    ]]
    fillet(fillet1_edges, radius=FILLET1_R)

    # Fillet2
    fillet2_edges = [part.edges().sort_by_distance(p)[0] for p in [
        (0, 0.32, -3.07),
        (-2.54, 0.32, -3.07),
        (-5.08, 0.32, -3.07),
        (2.54, 0.32, -3.07),
    ]]
    fillet(fillet2_edges, radius=FILLET2_R)


solid = part.part
